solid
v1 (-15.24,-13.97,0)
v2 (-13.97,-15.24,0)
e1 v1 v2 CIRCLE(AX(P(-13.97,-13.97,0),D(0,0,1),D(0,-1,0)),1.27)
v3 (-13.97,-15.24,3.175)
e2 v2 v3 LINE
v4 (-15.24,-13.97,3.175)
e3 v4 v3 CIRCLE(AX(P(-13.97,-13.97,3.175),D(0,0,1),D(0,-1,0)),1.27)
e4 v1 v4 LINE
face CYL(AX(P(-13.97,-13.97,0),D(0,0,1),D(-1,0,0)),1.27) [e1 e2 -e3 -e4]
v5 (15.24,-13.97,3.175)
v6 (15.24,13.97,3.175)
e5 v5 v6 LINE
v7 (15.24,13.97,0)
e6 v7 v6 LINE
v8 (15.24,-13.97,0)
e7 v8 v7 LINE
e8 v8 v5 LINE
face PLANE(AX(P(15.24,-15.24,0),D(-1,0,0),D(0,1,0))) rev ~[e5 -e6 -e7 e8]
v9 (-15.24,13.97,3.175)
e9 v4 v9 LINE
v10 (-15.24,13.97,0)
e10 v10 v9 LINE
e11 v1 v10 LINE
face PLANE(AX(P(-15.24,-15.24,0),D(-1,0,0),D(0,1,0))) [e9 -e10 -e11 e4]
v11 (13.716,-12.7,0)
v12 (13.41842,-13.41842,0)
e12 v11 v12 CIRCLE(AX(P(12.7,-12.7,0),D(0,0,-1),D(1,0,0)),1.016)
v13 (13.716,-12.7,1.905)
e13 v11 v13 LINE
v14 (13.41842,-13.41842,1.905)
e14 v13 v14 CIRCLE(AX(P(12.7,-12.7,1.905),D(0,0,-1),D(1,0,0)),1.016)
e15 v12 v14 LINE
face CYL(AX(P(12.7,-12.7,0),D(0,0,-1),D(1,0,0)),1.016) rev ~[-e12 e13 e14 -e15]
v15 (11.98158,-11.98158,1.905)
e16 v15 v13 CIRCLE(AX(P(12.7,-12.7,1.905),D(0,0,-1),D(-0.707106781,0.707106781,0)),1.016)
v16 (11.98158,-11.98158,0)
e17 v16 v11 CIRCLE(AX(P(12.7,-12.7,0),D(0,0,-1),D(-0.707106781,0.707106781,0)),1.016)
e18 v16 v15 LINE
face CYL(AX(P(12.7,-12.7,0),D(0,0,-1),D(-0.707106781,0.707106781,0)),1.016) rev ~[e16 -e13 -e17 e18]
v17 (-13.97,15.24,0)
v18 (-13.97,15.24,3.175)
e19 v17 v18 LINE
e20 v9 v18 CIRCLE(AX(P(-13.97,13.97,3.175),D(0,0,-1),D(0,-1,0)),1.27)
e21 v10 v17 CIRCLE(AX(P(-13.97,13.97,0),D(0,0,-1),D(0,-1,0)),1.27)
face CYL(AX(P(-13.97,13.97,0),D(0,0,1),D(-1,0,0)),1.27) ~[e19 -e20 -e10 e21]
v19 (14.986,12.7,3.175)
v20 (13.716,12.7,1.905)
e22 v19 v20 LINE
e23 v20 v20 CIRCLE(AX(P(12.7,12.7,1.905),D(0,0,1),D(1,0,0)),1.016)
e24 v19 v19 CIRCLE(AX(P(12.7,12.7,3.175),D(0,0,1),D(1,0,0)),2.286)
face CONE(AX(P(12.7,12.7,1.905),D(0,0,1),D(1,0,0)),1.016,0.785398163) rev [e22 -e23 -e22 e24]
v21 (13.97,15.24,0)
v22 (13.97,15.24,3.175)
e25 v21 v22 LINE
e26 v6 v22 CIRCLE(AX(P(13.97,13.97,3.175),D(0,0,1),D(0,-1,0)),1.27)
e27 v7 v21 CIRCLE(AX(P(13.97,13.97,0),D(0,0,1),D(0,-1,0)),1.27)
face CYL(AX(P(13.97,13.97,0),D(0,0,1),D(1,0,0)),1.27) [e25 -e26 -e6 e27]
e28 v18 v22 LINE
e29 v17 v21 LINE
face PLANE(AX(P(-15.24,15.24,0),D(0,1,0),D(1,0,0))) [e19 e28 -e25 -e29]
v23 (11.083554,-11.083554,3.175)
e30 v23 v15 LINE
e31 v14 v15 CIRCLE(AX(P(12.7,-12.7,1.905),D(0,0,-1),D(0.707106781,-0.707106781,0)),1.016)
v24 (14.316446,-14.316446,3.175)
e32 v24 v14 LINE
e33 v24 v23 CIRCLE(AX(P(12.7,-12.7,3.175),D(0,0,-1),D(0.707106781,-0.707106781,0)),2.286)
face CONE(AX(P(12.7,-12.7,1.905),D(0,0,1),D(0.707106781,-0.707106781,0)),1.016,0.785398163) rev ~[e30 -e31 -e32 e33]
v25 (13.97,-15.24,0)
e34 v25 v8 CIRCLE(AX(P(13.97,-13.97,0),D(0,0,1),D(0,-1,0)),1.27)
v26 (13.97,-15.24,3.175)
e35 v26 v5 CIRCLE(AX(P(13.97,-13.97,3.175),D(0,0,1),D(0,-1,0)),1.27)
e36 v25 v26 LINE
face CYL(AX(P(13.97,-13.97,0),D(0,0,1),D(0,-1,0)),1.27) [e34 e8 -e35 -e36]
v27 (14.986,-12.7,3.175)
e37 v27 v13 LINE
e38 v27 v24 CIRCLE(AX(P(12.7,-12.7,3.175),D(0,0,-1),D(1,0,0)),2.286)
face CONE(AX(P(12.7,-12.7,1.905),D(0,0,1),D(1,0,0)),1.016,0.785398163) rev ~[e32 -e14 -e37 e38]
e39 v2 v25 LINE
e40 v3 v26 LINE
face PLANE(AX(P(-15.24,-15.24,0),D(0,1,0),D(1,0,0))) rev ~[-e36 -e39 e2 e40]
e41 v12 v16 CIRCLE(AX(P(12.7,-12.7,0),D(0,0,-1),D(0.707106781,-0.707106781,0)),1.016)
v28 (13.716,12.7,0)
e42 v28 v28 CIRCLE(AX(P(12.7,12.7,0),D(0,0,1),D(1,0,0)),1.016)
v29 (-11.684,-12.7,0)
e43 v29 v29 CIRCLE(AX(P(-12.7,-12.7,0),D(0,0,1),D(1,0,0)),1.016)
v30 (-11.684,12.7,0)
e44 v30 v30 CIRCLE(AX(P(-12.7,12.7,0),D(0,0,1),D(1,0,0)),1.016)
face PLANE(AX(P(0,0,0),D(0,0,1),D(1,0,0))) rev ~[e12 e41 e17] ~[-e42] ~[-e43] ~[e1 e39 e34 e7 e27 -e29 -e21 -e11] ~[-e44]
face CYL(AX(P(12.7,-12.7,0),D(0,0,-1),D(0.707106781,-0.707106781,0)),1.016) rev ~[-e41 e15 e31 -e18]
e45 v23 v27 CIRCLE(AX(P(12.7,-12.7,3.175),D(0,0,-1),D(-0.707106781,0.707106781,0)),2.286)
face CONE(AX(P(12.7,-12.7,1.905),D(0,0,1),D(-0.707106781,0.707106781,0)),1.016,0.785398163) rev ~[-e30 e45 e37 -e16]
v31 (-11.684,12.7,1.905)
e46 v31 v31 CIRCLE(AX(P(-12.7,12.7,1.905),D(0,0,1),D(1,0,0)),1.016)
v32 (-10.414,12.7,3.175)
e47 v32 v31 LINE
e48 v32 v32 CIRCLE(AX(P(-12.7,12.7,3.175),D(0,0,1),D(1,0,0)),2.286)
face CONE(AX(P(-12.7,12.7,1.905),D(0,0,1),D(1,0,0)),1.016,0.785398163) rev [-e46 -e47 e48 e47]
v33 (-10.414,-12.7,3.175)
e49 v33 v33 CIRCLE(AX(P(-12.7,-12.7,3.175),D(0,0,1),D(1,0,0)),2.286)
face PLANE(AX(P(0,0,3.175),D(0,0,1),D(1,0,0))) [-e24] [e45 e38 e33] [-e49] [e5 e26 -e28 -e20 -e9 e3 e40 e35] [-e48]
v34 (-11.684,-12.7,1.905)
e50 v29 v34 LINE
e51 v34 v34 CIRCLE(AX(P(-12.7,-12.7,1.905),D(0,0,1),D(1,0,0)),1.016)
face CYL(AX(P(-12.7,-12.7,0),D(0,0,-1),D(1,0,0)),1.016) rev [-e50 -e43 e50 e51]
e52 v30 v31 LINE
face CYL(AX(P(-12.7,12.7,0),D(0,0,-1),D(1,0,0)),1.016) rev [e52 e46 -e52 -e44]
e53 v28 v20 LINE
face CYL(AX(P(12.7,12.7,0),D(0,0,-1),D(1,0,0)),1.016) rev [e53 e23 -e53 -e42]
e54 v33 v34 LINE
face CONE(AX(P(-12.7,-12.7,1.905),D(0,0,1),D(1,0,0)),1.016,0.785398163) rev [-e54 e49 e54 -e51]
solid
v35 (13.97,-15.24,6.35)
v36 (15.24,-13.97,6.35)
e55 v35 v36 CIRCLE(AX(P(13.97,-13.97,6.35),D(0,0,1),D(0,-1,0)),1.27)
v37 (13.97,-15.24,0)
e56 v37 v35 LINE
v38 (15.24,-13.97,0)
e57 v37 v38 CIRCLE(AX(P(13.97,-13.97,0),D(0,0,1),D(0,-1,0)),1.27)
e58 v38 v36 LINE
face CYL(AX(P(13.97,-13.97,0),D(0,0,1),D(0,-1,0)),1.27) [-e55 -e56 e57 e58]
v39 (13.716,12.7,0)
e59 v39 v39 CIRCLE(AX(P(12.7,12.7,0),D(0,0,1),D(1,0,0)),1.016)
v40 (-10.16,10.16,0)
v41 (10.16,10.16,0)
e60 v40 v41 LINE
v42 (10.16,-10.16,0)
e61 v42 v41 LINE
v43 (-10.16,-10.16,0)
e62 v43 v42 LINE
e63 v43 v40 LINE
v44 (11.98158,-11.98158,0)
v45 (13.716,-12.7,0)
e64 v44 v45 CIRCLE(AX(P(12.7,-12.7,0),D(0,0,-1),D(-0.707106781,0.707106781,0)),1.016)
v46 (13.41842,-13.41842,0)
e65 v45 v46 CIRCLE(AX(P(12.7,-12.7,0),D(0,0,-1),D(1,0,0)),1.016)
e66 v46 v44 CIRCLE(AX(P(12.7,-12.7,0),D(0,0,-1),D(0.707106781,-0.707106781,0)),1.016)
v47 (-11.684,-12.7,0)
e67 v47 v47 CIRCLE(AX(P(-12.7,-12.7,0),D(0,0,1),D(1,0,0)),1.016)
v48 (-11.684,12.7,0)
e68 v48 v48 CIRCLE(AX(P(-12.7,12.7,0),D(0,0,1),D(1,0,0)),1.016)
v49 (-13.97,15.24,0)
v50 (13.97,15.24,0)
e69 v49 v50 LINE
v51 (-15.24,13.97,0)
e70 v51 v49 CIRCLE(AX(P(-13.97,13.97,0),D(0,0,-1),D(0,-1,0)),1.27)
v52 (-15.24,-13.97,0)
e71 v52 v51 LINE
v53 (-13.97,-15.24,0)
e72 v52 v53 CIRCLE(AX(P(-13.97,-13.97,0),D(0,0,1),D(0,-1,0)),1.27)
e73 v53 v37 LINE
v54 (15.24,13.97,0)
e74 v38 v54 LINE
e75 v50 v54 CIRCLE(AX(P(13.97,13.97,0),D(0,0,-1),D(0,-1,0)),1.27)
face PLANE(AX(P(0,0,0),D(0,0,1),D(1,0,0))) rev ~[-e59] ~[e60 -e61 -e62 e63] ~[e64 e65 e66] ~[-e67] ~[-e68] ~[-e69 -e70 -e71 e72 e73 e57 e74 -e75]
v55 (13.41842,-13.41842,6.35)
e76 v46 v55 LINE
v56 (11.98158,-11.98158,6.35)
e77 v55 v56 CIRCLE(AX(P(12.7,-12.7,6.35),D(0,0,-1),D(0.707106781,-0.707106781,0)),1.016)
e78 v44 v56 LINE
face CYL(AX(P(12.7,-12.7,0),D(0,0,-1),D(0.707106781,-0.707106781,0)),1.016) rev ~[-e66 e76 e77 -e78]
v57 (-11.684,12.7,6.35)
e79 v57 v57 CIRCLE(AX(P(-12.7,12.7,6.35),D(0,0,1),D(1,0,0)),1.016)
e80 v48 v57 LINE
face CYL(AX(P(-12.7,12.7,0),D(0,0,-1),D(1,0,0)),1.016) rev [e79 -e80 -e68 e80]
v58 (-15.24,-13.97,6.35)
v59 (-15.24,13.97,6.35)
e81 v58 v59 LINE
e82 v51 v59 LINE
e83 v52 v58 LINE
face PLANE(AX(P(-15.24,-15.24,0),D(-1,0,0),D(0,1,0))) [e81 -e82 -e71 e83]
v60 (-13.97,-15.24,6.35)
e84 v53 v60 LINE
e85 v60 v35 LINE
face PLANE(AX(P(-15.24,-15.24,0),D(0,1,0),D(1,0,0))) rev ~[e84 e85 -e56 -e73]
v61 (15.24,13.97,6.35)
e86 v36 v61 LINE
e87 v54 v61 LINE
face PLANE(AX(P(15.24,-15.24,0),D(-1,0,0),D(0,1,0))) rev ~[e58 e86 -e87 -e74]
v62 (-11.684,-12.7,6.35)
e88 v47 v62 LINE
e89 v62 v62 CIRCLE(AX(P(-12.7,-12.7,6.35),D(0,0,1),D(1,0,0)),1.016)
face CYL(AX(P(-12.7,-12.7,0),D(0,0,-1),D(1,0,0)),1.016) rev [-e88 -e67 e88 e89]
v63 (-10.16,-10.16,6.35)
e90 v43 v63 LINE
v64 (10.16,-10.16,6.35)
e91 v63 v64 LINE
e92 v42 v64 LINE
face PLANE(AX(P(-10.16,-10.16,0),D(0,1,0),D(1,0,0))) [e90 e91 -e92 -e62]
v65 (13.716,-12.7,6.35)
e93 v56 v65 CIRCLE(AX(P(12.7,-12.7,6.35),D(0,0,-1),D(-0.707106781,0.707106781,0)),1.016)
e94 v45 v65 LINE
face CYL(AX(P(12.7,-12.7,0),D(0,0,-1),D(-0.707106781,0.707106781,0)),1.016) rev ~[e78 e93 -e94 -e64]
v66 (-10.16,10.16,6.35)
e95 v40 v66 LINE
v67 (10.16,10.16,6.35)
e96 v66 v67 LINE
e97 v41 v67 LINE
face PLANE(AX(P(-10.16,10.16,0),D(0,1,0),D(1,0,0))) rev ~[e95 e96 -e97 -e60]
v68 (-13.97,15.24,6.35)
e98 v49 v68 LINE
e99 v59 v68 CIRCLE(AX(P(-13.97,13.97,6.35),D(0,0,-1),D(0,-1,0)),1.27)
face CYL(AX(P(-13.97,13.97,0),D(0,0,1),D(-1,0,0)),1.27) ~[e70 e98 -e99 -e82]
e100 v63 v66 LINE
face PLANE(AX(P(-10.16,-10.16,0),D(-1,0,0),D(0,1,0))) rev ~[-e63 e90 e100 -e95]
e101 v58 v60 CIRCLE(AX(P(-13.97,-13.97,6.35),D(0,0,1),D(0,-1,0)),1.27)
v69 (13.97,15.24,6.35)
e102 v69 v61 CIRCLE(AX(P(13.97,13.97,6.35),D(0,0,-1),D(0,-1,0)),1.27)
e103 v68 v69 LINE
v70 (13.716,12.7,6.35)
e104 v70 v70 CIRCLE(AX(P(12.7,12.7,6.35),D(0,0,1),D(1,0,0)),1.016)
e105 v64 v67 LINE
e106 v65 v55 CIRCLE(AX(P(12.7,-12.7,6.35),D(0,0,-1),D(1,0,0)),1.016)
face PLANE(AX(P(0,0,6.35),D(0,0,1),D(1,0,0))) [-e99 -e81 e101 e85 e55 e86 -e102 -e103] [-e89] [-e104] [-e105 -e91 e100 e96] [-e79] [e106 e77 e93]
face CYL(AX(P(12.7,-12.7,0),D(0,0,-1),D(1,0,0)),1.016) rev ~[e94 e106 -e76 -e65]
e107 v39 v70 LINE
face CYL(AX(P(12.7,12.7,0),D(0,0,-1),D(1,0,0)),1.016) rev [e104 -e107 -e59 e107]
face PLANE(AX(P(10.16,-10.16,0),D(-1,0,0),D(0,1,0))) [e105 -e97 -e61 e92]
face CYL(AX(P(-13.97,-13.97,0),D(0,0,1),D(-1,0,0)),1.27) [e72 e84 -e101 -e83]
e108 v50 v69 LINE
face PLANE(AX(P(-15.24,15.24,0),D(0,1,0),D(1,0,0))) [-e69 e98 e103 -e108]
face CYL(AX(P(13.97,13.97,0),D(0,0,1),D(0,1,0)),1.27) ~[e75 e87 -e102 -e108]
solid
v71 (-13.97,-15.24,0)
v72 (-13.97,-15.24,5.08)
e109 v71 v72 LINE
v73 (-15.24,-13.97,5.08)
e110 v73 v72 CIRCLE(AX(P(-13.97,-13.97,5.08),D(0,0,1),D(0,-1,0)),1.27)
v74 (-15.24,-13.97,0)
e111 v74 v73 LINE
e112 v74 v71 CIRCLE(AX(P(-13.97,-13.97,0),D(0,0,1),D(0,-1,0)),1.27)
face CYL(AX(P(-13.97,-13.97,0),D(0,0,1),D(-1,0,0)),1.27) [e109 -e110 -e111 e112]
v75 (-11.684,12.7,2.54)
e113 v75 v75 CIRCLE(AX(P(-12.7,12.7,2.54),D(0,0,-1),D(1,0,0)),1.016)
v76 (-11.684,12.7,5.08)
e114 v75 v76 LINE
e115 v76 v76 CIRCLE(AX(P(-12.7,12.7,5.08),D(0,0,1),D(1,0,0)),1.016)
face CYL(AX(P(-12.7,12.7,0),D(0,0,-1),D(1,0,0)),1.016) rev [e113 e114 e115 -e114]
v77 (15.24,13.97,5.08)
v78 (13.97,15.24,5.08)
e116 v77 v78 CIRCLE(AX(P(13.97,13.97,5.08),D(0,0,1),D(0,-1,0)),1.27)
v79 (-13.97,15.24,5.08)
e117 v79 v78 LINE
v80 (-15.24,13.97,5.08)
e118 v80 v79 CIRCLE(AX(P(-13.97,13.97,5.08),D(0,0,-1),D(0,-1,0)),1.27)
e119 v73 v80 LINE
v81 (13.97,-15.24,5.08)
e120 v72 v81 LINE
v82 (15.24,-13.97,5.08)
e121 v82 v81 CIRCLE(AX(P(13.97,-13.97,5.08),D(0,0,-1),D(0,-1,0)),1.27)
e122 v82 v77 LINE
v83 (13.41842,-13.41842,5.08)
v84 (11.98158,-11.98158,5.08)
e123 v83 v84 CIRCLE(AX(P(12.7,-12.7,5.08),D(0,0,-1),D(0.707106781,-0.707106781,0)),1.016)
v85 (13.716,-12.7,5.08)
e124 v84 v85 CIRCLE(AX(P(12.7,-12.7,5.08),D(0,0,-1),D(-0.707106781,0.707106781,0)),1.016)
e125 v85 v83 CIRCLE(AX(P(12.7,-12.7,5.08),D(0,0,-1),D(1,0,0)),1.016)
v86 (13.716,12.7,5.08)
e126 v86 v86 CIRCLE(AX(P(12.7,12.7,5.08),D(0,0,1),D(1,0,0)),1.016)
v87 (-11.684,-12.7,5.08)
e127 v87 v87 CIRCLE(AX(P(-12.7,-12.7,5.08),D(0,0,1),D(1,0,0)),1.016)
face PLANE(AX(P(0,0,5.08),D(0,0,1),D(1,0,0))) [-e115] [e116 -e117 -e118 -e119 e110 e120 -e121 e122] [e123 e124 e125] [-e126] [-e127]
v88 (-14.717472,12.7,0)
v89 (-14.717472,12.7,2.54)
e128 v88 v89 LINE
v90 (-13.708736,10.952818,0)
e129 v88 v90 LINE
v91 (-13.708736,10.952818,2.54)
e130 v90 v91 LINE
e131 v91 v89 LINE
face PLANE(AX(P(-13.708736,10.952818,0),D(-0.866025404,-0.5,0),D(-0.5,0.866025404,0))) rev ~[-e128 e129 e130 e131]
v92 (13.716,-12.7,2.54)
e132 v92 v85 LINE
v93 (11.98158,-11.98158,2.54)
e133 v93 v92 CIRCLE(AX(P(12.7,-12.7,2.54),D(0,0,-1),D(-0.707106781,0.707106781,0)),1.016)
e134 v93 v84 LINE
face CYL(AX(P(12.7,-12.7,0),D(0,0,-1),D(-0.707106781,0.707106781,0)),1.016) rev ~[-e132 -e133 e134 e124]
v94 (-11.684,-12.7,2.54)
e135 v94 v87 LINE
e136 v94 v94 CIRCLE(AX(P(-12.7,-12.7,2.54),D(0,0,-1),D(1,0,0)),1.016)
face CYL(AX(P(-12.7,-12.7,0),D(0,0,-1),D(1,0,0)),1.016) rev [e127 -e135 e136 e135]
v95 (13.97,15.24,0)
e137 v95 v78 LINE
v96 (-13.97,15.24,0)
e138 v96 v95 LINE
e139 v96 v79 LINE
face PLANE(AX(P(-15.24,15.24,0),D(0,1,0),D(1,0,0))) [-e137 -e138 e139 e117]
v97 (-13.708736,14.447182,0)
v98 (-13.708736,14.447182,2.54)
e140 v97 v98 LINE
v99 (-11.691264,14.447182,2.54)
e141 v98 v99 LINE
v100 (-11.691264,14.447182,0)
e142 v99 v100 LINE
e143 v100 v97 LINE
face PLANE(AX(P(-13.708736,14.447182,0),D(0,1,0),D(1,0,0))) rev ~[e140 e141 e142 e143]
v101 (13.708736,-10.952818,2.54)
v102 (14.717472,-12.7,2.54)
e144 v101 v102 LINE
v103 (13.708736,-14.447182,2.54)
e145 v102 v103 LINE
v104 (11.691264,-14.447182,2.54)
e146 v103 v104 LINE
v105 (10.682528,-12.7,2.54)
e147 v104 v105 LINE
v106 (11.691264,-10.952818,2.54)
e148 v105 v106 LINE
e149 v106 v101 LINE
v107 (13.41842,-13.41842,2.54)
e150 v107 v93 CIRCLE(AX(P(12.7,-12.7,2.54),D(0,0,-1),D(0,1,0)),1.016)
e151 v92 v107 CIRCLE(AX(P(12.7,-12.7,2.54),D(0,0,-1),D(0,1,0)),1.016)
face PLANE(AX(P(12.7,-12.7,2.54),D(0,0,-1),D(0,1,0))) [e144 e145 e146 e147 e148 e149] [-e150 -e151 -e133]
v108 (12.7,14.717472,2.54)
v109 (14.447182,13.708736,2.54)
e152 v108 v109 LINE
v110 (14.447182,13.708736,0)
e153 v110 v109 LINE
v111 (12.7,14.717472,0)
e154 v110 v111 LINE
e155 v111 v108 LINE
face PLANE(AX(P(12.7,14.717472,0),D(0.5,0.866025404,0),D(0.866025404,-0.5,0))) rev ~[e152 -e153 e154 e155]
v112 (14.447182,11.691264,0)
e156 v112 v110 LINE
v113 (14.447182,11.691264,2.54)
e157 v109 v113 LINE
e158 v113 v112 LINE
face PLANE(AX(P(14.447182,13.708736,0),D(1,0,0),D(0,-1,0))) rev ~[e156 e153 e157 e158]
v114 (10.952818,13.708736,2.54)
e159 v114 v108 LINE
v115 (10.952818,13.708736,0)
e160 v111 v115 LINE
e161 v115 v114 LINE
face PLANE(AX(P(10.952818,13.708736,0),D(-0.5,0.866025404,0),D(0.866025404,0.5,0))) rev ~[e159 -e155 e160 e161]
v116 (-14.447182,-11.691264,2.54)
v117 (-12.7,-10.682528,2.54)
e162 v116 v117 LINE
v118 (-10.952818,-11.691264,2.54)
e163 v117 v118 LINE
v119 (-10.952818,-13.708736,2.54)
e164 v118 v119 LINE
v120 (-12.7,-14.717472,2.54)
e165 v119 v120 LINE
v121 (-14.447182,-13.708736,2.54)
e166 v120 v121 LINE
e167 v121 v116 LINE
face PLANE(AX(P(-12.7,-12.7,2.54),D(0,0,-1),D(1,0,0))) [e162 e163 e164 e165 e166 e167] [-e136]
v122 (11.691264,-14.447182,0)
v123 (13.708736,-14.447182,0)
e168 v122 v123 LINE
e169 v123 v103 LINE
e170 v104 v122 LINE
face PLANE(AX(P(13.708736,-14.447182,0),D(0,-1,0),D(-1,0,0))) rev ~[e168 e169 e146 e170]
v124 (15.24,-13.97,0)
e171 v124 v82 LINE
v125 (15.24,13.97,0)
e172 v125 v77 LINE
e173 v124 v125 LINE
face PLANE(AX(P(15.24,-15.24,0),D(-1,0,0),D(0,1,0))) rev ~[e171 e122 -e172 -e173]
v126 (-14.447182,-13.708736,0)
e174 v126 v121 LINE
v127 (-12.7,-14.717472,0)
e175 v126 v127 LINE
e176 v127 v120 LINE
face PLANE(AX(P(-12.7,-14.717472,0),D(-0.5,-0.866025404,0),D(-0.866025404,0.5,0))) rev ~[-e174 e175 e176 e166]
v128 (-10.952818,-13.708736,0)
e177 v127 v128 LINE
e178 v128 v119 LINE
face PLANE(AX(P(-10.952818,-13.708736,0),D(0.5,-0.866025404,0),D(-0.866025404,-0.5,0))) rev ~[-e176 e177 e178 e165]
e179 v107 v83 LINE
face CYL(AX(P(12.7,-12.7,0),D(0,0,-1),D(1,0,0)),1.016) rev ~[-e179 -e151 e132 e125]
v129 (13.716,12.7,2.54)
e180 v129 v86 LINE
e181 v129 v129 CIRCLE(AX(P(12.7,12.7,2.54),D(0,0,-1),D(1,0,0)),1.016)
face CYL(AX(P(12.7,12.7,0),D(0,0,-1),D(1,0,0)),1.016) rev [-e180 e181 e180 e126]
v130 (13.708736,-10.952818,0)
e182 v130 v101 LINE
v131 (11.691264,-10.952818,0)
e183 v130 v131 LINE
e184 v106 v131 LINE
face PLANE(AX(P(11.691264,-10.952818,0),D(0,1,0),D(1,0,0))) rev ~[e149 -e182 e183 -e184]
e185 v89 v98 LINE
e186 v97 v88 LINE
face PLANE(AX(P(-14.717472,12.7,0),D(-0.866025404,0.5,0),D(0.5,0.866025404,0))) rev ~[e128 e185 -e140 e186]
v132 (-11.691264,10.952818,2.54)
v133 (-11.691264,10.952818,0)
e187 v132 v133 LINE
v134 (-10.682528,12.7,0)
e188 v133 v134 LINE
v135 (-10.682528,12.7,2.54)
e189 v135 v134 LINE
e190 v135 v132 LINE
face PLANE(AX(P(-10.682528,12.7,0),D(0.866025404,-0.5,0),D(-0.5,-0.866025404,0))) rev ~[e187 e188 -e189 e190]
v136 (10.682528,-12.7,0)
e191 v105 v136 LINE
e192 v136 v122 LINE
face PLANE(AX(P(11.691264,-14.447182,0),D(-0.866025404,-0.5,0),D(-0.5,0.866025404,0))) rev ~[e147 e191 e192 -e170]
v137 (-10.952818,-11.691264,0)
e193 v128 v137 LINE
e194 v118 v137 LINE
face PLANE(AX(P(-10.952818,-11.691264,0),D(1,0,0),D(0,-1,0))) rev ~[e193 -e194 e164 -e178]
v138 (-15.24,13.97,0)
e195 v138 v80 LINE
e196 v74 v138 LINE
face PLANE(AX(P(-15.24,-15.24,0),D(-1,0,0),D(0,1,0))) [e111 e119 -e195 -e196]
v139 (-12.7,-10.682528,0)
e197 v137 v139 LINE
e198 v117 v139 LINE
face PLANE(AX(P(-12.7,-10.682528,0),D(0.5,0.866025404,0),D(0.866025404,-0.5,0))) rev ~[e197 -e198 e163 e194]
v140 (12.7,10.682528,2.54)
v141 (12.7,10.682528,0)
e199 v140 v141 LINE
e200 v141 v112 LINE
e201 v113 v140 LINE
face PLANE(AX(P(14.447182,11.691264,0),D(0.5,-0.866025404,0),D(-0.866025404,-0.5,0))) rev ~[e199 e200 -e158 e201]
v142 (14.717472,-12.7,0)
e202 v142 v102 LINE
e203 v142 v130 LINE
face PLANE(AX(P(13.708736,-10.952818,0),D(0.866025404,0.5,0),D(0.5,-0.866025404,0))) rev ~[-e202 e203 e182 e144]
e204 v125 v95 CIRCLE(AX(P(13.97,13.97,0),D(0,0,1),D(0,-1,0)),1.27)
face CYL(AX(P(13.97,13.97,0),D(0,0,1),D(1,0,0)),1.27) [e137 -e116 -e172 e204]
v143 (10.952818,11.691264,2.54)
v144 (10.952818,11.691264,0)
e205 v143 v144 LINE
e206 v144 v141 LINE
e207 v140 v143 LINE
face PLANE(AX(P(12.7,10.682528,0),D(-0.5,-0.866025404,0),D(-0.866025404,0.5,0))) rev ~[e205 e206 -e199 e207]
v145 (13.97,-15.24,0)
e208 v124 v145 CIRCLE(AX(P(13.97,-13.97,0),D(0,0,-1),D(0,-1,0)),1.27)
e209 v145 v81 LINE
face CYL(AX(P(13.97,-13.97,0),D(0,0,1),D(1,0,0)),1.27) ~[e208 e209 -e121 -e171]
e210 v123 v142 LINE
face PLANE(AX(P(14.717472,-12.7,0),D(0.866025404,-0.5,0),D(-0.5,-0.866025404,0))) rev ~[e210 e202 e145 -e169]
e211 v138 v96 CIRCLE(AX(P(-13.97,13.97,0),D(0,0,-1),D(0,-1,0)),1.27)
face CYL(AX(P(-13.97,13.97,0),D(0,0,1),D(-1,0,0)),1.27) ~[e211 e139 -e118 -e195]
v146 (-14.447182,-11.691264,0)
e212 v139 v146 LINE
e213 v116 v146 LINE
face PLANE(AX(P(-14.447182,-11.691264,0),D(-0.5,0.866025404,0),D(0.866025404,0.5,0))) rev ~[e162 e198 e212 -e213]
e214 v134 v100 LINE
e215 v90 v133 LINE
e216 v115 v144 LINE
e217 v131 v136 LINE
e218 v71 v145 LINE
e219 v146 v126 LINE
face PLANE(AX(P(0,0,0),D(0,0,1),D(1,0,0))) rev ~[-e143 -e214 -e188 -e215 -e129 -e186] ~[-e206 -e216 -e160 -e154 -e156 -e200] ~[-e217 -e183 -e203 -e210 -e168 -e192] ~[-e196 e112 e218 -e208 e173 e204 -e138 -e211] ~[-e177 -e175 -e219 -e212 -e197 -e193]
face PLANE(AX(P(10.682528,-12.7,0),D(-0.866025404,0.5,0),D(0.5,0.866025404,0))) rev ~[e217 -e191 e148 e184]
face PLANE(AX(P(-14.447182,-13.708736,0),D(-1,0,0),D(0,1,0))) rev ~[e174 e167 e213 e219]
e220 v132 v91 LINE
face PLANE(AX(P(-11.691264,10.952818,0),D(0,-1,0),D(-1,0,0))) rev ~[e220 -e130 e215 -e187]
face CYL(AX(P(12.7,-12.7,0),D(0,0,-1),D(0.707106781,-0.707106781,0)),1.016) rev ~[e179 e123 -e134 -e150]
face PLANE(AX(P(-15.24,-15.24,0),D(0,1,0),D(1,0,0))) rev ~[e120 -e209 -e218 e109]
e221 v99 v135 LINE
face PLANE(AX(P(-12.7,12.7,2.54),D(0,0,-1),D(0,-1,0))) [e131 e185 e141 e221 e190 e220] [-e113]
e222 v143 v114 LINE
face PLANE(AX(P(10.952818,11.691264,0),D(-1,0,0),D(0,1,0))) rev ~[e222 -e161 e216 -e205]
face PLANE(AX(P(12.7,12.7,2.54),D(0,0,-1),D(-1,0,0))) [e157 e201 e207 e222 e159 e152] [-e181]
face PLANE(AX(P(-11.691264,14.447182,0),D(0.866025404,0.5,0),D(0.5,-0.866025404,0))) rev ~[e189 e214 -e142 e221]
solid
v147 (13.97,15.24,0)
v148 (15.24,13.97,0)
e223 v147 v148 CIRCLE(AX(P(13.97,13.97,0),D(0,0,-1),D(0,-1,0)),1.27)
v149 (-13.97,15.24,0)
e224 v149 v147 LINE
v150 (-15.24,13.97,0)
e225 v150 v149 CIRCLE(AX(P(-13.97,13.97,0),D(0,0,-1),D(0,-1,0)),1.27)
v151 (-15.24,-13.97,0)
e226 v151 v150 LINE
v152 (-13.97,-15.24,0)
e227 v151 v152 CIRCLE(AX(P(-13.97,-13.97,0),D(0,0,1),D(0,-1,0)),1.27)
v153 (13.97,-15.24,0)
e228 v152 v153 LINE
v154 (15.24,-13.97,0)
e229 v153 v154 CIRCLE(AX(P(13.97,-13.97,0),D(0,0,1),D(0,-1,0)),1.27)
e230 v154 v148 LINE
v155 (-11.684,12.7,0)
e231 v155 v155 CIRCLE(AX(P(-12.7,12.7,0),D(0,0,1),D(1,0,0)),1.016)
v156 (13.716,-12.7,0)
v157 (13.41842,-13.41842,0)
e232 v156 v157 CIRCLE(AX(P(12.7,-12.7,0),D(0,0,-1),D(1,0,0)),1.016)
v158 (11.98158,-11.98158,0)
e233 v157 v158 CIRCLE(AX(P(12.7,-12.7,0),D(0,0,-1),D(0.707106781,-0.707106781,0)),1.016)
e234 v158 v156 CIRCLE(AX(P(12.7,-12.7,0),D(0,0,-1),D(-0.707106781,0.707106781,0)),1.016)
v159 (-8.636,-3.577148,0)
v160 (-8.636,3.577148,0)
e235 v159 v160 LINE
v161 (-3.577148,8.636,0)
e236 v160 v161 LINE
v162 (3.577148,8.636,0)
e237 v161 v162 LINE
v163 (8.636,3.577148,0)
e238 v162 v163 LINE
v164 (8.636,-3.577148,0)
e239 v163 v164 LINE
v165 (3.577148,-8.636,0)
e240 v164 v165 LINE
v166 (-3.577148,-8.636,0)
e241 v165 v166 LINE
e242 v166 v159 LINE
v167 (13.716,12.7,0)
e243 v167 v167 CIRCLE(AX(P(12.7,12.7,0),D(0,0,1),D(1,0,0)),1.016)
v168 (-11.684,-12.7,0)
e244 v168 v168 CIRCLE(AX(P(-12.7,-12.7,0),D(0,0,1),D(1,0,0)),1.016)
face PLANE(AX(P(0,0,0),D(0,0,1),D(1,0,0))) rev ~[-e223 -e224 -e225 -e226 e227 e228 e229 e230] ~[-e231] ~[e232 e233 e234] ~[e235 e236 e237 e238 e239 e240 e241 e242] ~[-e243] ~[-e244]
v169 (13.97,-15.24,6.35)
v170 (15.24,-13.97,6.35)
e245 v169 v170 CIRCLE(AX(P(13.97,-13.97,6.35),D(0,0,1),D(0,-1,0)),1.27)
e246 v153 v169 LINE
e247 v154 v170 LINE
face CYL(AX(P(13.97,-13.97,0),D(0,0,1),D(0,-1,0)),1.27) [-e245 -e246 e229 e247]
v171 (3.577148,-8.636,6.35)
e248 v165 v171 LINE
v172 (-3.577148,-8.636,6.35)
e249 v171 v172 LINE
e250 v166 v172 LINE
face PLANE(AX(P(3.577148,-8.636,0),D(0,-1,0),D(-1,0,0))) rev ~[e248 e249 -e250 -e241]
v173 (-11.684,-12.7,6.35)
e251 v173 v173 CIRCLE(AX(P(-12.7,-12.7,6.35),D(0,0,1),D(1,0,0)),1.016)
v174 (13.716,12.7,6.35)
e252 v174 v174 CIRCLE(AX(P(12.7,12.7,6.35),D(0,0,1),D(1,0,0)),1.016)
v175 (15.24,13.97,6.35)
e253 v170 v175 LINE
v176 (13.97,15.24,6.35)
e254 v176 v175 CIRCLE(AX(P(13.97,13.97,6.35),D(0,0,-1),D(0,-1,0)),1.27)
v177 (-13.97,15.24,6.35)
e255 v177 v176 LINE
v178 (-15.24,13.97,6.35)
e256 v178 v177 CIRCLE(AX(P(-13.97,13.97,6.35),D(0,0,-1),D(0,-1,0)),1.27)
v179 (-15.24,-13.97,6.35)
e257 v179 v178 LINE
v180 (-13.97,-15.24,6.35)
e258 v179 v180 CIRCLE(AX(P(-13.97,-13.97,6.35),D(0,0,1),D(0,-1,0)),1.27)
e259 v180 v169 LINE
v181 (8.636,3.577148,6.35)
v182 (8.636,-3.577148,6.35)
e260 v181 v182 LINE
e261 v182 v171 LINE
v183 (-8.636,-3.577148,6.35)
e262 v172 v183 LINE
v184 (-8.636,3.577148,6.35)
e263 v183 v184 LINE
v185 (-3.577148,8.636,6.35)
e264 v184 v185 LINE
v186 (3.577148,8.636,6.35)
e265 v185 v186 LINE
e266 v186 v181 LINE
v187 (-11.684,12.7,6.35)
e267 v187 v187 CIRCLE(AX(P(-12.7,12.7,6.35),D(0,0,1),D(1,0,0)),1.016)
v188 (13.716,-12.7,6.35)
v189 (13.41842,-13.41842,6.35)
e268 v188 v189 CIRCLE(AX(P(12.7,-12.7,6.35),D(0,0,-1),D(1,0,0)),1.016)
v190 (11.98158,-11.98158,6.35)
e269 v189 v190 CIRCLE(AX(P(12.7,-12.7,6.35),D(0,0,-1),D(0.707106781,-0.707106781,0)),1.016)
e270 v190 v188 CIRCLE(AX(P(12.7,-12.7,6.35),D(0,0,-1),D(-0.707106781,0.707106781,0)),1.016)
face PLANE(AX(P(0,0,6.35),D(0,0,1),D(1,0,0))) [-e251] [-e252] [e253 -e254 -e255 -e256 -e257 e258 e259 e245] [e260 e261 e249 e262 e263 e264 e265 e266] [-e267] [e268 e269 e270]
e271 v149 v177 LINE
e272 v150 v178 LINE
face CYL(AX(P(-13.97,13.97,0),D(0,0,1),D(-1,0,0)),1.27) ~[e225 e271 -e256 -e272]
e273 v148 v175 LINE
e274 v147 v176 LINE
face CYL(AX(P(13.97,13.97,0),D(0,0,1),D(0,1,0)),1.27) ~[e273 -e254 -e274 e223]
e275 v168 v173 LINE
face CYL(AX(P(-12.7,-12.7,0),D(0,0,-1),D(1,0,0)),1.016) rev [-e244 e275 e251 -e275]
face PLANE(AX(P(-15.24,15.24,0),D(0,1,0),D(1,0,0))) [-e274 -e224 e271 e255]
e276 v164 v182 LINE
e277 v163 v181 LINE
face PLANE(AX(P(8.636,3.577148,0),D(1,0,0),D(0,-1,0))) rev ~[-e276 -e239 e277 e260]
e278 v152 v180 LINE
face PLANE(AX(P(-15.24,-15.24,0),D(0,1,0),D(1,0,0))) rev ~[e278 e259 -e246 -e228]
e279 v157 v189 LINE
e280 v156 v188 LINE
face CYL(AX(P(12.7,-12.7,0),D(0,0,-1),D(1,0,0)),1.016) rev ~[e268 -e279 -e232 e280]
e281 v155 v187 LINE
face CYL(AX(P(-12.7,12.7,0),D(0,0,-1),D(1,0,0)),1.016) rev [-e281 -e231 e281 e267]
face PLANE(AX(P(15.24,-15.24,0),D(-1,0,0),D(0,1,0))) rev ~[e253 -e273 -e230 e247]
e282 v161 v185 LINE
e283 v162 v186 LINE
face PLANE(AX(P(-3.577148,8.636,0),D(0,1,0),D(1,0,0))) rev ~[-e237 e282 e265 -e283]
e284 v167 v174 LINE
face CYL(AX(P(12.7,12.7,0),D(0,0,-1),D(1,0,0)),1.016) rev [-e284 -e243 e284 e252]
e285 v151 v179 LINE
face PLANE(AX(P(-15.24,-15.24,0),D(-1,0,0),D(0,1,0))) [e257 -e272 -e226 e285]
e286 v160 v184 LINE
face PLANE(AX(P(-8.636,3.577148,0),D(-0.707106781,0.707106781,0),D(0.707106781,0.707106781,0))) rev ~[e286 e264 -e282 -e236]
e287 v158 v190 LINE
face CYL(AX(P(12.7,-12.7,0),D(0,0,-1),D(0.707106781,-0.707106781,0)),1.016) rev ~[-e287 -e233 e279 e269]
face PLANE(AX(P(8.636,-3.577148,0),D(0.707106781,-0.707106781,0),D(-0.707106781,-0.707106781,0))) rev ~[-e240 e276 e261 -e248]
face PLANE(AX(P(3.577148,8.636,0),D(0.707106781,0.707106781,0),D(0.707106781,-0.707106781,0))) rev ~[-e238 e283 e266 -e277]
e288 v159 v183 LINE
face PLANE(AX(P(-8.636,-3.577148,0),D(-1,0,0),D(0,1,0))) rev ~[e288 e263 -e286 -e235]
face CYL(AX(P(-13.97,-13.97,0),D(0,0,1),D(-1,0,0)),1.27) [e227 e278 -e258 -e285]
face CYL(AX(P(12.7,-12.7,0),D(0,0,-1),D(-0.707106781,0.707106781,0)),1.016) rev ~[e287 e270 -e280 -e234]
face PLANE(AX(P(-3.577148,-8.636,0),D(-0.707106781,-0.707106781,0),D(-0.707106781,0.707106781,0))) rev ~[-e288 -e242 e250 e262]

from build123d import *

# Parameters (mm, degrees)
F1_W      = 30.48
F1_H      = 30.48
F1_R      = 1.016
F1_W_2    = 20.32
F1_H_2    = 20.32
F2_DEPTH  = 6.35
F3_R      = 1.27
F4_DEPTH  = 6.35
F5_R      = 1.27
F6_DEPTH  = 3.175
F7_R      = 1.27
F8_DEPTH  = 5.08
F9_R      = 1.016
F10_DEPTH = 2.54
F11_COUNT = 4
F11_ANGLE = 810
F13_R     = 1.27
F14_SIZE  = 1.27


with BuildPart() as f2:
    # F1 (on Top) → F2 (new body)
    with BuildSketch(Plane.XY):
        Rectangle(F1_W, F1_H)
        with Locations((-12.7, -12.7)):
            Circle(F1_R, mode=Mode.SUBTRACT)
        with BuildLine():
            ThreePointArc((13.4184204897, -13.4184204897), (11.9815795103, -13.4184204897), (11.9815795103, -11.9815795103))
            ThreePointArc((11.9815795103, -11.9815795103), (13.0888063673, -11.761338395), (13.716, -12.7))
            ThreePointArc((13.716, -12.7), (13.638661605, -13.0888063673), (13.4184204897, -13.4184204897))
        make_face(mode=Mode.SUBTRACT)
        with Locations((-12.7, 12.7)):
            Circle(F1_R, mode=Mode.SUBTRACT)
        Rectangle(F1_W_2, F1_H_2, mode=Mode.SUBTRACT)
        with Locations((12.7, 12.7)):
            Circle(F1_R, mode=Mode.SUBTRACT)
        Rectangle(F1_W_2, F1_H_2)
        Polygon((-3.5771483247, -8.636), (-8.636, -3.5771483247), (-8.636, 3.5771483247), (-3.5771483247, 8.636), (3.5771483247, 8.636), (8.636, 3.5771483247), (8.636, -3.5771483247), (3.5771483247, -8.636), align=None, mode=Mode.SUBTRACT)
    extrude(amount=F2_DEPTH)

    # F3
    f3_edges = [f2.edges().sort_by_distance(p)[0] for p in [
        (-15.24, 15.24, 3.175),
        (-15.24, -15.24, 3.175),
        (15.24, 15.24, 3.175),
        (15.24, -15.24, 3.175),
    ]]
    fillet(f3_edges, radius=F3_R)


with BuildPart() as f4:
    # F1 (on Top) → F4 (new body)
    with BuildSketch(Plane.XY):
        Rectangle(F1_W, F1_H)
        with Locations((-12.7, -12.7)):
            Circle(F1_R, mode=Mode.SUBTRACT)
        with BuildLine():
            ThreePointArc((13.4184204897, -13.4184204897), (11.9815795103, -13.4184204897), (11.9815795103, -11.9815795103))
            ThreePointArc((11.9815795103, -11.9815795103), (13.0888063673, -11.761338395), (13.716, -12.7))
            ThreePointArc((13.716, -12.7), (13.638661605, -13.0888063673), (13.4184204897, -13.4184204897))
        make_face(mode=Mode.SUBTRACT)
        with Locations((-12.7, 12.7)):
            Circle(F1_R, mode=Mode.SUBTRACT)
        Rectangle(F1_W_2, F1_H_2, mode=Mode.SUBTRACT)
        with Locations((12.7, 12.7)):
            Circle(F1_R, mode=Mode.SUBTRACT)
    extrude(amount=F4_DEPTH)

    # F5
    f5_edges = [f4.edges().sort_by_distance(p)[0] for p in [
        (15.24, 15.24, 3.175),
        (15.24, -15.24, 3.175),
        (-15.24, 15.24, 3.175),
        (-15.24, -15.24, 3.175),
    ]]
    fillet(f5_edges, radius=F5_R)


with BuildPart() as f6:
    # F1 (on Top) → F6 (new body)
    with BuildSketch(Plane.XY):
        Rectangle(F1_W, F1_H)
        with Locations((-12.7, -12.7)):
            Circle(F1_R, mode=Mode.SUBTRACT)
        with BuildLine():
            ThreePointArc((13.4184204897, -13.4184204897), (11.9815795103, -13.4184204897), (11.9815795103, -11.9815795103))
            ThreePointArc((11.9815795103, -11.9815795103), (13.0888063673, -11.761338395), (13.716, -12.7))
            ThreePointArc((13.716, -12.7), (13.638661605, -13.0888063673), (13.4184204897, -13.4184204897))
        make_face(mode=Mode.SUBTRACT)
        with Locations((-12.7, 12.7)):
            Circle(F1_R, mode=Mode.SUBTRACT)
        Rectangle(F1_W_2, F1_H_2, mode=Mode.SUBTRACT)
        with Locations((12.7, 12.7)):
            Circle(F1_R, mode=Mode.SUBTRACT)
        Rectangle(F1_W_2, F1_H_2)
        Polygon((-3.5771483247, -8.636), (-8.636, -3.5771483247), (-8.636, 3.5771483247), (-3.5771483247, 8.636), (3.5771483247, 8.636), (8.636, 3.5771483247), (8.636, -3.5771483247), (3.5771483247, -8.636), align=None, mode=Mode.SUBTRACT)
        Polygon((-8.636, 3.5771483247), (-8.636, -3.5771483247), (-3.5771483247, -8.636), (3.5771483247, -8.636), (8.636, -3.5771483247), (8.636, 3.5771483247), (3.5771483247, 8.636), (-3.5771483247, 8.636), align=None)
    extrude(amount=F6_DEPTH)

    # F7
    f7_edges = [f6.edges().sort_by_distance(p)[0] for p in [
        (-15.24, 15.24, 1.5875),
        (15.24, 15.24, 1.5875),
        (15.24, -15.24, 1.5875),
        (-15.24, -15.24, 1.5875),
    ]]
    fillet(f7_edges, radius=F7_R)

    # F14
    f14_edges = [f6.edges().sort_by_distance(p)[0] for p in [
        (-13.716, -12.7, 3.175),
        (-13.716, 12.7, 3.175),
        (11.684, 12.7, 3.175),
        (11.98158, -11.98158, 3.175),
    ]]
    chamfer(f14_edges, length=F14_SIZE)


with BuildPart() as f8:
    # F1 (on Top) → F8 (new body)
    with BuildSketch(Plane.XY):
        Rectangle(F1_W, F1_H)
        with Locations((-12.7, -12.7)):
            Circle(F1_R, mode=Mode.SUBTRACT)
        with BuildLine():
            ThreePointArc((13.4184204897, -13.4184204897), (11.9815795103, -13.4184204897), (11.9815795103, -11.9815795103))
            ThreePointArc((11.9815795103, -11.9815795103), (13.0888063673, -11.761338395), (13.716, -12.7))
            ThreePointArc((13.716, -12.7), (13.638661605, -13.0888063673), (13.4184204897, -13.4184204897))
        make_face(mode=Mode.SUBTRACT)
        with Locations((-12.7, 12.7)):
            Circle(F1_R, mode=Mode.SUBTRACT)
        Rectangle(F1_W_2, F1_H_2, mode=Mode.SUBTRACT)
        with Locations((12.7, 12.7)):
            Circle(F1_R, mode=Mode.SUBTRACT)
        Rectangle(F1_W_2, F1_H_2)
        Polygon((-3.5771483247, -8.636), (-8.636, -3.5771483247), (-8.636, 3.5771483247), (-3.5771483247, 8.636), (3.5771483247, 8.636), (8.636, 3.5771483247), (8.636, -3.5771483247), (3.5771483247, -8.636), align=None, mode=Mode.SUBTRACT)
        Polygon((-8.636, 3.5771483247), (-8.636, -3.5771483247), (-3.5771483247, -8.636), (3.5771483247, -8.636), (8.636, -3.5771483247), (8.636, 3.5771483247), (3.5771483247, 8.636), (-3.5771483247, 8.636), align=None)
    extrude(amount=F8_DEPTH)


with BuildPart() as f10:
    # F9 (on face) → F10 (new body, symmetric)
    with BuildSketch(Plane(origin=(0, 0, 0), x_dir=(1, 0, 0), z_dir=(0, 0, -1))):
        Polygon((-14.4471824169, 13.7087362387), (-14.4471824169, 11.6912637613), (-12.7, 10.6825275225), (-10.9528175831, 11.6912637613), (-10.9528175831, 13.7087362387), (-12.7, 14.7174724775), align=None)
        with Locations((-12.7, 12.7)):
            Circle(F9_R, mode=Mode.SUBTRACT)
    extrude(amount=F10_DEPTH, both=True)


with BuildPart() as f11_1:
    # F11: instance of F10
    add(f10.part.rotate(Axis((0, 0, -0.5095088854), (0, 0, -1)), 1 * F11_ANGLE / (F11_COUNT - 1)))


with BuildPart() as f11_2:
    # F11: instance of F10
    add(f10.part.rotate(Axis((0, 0, -0.5095088854), (0, 0, -1)), 2 * F11_ANGLE / (F11_COUNT - 1)))


with BuildPart() as f11_3:
    # F11: instance of F10
    add(f10.part.rotate(Axis((0, 0, -0.5095088854), (0, 0, -1)), 3 * F11_ANGLE / (F11_COUNT - 1)))


with BuildPart() as f8_1:
    add(f8.part)

    # F12: cut F10, F11_1, F11_2, F11_3
    add(f10.part, mode=Mode.SUBTRACT)
    add(f11_1.part, mode=Mode.SUBTRACT)
    add(f11_2.part, mode=Mode.SUBTRACT)
    add(f11_3.part, mode=Mode.SUBTRACT)

    # F13
    f13_edges = [f8_1.edges().sort_by_distance(p)[0] for p in [
        (15.24, -15.24, 2.54),
        (-15.24, -15.24, 2.54),
        (-15.24, 15.24, 2.54),
        (15.24, 15.24, 2.54),
    ]]
    fillet(f13_edges, radius=F13_R)


solid = Compound([f2.part, f4.part, f6.part, f8_1.part])
